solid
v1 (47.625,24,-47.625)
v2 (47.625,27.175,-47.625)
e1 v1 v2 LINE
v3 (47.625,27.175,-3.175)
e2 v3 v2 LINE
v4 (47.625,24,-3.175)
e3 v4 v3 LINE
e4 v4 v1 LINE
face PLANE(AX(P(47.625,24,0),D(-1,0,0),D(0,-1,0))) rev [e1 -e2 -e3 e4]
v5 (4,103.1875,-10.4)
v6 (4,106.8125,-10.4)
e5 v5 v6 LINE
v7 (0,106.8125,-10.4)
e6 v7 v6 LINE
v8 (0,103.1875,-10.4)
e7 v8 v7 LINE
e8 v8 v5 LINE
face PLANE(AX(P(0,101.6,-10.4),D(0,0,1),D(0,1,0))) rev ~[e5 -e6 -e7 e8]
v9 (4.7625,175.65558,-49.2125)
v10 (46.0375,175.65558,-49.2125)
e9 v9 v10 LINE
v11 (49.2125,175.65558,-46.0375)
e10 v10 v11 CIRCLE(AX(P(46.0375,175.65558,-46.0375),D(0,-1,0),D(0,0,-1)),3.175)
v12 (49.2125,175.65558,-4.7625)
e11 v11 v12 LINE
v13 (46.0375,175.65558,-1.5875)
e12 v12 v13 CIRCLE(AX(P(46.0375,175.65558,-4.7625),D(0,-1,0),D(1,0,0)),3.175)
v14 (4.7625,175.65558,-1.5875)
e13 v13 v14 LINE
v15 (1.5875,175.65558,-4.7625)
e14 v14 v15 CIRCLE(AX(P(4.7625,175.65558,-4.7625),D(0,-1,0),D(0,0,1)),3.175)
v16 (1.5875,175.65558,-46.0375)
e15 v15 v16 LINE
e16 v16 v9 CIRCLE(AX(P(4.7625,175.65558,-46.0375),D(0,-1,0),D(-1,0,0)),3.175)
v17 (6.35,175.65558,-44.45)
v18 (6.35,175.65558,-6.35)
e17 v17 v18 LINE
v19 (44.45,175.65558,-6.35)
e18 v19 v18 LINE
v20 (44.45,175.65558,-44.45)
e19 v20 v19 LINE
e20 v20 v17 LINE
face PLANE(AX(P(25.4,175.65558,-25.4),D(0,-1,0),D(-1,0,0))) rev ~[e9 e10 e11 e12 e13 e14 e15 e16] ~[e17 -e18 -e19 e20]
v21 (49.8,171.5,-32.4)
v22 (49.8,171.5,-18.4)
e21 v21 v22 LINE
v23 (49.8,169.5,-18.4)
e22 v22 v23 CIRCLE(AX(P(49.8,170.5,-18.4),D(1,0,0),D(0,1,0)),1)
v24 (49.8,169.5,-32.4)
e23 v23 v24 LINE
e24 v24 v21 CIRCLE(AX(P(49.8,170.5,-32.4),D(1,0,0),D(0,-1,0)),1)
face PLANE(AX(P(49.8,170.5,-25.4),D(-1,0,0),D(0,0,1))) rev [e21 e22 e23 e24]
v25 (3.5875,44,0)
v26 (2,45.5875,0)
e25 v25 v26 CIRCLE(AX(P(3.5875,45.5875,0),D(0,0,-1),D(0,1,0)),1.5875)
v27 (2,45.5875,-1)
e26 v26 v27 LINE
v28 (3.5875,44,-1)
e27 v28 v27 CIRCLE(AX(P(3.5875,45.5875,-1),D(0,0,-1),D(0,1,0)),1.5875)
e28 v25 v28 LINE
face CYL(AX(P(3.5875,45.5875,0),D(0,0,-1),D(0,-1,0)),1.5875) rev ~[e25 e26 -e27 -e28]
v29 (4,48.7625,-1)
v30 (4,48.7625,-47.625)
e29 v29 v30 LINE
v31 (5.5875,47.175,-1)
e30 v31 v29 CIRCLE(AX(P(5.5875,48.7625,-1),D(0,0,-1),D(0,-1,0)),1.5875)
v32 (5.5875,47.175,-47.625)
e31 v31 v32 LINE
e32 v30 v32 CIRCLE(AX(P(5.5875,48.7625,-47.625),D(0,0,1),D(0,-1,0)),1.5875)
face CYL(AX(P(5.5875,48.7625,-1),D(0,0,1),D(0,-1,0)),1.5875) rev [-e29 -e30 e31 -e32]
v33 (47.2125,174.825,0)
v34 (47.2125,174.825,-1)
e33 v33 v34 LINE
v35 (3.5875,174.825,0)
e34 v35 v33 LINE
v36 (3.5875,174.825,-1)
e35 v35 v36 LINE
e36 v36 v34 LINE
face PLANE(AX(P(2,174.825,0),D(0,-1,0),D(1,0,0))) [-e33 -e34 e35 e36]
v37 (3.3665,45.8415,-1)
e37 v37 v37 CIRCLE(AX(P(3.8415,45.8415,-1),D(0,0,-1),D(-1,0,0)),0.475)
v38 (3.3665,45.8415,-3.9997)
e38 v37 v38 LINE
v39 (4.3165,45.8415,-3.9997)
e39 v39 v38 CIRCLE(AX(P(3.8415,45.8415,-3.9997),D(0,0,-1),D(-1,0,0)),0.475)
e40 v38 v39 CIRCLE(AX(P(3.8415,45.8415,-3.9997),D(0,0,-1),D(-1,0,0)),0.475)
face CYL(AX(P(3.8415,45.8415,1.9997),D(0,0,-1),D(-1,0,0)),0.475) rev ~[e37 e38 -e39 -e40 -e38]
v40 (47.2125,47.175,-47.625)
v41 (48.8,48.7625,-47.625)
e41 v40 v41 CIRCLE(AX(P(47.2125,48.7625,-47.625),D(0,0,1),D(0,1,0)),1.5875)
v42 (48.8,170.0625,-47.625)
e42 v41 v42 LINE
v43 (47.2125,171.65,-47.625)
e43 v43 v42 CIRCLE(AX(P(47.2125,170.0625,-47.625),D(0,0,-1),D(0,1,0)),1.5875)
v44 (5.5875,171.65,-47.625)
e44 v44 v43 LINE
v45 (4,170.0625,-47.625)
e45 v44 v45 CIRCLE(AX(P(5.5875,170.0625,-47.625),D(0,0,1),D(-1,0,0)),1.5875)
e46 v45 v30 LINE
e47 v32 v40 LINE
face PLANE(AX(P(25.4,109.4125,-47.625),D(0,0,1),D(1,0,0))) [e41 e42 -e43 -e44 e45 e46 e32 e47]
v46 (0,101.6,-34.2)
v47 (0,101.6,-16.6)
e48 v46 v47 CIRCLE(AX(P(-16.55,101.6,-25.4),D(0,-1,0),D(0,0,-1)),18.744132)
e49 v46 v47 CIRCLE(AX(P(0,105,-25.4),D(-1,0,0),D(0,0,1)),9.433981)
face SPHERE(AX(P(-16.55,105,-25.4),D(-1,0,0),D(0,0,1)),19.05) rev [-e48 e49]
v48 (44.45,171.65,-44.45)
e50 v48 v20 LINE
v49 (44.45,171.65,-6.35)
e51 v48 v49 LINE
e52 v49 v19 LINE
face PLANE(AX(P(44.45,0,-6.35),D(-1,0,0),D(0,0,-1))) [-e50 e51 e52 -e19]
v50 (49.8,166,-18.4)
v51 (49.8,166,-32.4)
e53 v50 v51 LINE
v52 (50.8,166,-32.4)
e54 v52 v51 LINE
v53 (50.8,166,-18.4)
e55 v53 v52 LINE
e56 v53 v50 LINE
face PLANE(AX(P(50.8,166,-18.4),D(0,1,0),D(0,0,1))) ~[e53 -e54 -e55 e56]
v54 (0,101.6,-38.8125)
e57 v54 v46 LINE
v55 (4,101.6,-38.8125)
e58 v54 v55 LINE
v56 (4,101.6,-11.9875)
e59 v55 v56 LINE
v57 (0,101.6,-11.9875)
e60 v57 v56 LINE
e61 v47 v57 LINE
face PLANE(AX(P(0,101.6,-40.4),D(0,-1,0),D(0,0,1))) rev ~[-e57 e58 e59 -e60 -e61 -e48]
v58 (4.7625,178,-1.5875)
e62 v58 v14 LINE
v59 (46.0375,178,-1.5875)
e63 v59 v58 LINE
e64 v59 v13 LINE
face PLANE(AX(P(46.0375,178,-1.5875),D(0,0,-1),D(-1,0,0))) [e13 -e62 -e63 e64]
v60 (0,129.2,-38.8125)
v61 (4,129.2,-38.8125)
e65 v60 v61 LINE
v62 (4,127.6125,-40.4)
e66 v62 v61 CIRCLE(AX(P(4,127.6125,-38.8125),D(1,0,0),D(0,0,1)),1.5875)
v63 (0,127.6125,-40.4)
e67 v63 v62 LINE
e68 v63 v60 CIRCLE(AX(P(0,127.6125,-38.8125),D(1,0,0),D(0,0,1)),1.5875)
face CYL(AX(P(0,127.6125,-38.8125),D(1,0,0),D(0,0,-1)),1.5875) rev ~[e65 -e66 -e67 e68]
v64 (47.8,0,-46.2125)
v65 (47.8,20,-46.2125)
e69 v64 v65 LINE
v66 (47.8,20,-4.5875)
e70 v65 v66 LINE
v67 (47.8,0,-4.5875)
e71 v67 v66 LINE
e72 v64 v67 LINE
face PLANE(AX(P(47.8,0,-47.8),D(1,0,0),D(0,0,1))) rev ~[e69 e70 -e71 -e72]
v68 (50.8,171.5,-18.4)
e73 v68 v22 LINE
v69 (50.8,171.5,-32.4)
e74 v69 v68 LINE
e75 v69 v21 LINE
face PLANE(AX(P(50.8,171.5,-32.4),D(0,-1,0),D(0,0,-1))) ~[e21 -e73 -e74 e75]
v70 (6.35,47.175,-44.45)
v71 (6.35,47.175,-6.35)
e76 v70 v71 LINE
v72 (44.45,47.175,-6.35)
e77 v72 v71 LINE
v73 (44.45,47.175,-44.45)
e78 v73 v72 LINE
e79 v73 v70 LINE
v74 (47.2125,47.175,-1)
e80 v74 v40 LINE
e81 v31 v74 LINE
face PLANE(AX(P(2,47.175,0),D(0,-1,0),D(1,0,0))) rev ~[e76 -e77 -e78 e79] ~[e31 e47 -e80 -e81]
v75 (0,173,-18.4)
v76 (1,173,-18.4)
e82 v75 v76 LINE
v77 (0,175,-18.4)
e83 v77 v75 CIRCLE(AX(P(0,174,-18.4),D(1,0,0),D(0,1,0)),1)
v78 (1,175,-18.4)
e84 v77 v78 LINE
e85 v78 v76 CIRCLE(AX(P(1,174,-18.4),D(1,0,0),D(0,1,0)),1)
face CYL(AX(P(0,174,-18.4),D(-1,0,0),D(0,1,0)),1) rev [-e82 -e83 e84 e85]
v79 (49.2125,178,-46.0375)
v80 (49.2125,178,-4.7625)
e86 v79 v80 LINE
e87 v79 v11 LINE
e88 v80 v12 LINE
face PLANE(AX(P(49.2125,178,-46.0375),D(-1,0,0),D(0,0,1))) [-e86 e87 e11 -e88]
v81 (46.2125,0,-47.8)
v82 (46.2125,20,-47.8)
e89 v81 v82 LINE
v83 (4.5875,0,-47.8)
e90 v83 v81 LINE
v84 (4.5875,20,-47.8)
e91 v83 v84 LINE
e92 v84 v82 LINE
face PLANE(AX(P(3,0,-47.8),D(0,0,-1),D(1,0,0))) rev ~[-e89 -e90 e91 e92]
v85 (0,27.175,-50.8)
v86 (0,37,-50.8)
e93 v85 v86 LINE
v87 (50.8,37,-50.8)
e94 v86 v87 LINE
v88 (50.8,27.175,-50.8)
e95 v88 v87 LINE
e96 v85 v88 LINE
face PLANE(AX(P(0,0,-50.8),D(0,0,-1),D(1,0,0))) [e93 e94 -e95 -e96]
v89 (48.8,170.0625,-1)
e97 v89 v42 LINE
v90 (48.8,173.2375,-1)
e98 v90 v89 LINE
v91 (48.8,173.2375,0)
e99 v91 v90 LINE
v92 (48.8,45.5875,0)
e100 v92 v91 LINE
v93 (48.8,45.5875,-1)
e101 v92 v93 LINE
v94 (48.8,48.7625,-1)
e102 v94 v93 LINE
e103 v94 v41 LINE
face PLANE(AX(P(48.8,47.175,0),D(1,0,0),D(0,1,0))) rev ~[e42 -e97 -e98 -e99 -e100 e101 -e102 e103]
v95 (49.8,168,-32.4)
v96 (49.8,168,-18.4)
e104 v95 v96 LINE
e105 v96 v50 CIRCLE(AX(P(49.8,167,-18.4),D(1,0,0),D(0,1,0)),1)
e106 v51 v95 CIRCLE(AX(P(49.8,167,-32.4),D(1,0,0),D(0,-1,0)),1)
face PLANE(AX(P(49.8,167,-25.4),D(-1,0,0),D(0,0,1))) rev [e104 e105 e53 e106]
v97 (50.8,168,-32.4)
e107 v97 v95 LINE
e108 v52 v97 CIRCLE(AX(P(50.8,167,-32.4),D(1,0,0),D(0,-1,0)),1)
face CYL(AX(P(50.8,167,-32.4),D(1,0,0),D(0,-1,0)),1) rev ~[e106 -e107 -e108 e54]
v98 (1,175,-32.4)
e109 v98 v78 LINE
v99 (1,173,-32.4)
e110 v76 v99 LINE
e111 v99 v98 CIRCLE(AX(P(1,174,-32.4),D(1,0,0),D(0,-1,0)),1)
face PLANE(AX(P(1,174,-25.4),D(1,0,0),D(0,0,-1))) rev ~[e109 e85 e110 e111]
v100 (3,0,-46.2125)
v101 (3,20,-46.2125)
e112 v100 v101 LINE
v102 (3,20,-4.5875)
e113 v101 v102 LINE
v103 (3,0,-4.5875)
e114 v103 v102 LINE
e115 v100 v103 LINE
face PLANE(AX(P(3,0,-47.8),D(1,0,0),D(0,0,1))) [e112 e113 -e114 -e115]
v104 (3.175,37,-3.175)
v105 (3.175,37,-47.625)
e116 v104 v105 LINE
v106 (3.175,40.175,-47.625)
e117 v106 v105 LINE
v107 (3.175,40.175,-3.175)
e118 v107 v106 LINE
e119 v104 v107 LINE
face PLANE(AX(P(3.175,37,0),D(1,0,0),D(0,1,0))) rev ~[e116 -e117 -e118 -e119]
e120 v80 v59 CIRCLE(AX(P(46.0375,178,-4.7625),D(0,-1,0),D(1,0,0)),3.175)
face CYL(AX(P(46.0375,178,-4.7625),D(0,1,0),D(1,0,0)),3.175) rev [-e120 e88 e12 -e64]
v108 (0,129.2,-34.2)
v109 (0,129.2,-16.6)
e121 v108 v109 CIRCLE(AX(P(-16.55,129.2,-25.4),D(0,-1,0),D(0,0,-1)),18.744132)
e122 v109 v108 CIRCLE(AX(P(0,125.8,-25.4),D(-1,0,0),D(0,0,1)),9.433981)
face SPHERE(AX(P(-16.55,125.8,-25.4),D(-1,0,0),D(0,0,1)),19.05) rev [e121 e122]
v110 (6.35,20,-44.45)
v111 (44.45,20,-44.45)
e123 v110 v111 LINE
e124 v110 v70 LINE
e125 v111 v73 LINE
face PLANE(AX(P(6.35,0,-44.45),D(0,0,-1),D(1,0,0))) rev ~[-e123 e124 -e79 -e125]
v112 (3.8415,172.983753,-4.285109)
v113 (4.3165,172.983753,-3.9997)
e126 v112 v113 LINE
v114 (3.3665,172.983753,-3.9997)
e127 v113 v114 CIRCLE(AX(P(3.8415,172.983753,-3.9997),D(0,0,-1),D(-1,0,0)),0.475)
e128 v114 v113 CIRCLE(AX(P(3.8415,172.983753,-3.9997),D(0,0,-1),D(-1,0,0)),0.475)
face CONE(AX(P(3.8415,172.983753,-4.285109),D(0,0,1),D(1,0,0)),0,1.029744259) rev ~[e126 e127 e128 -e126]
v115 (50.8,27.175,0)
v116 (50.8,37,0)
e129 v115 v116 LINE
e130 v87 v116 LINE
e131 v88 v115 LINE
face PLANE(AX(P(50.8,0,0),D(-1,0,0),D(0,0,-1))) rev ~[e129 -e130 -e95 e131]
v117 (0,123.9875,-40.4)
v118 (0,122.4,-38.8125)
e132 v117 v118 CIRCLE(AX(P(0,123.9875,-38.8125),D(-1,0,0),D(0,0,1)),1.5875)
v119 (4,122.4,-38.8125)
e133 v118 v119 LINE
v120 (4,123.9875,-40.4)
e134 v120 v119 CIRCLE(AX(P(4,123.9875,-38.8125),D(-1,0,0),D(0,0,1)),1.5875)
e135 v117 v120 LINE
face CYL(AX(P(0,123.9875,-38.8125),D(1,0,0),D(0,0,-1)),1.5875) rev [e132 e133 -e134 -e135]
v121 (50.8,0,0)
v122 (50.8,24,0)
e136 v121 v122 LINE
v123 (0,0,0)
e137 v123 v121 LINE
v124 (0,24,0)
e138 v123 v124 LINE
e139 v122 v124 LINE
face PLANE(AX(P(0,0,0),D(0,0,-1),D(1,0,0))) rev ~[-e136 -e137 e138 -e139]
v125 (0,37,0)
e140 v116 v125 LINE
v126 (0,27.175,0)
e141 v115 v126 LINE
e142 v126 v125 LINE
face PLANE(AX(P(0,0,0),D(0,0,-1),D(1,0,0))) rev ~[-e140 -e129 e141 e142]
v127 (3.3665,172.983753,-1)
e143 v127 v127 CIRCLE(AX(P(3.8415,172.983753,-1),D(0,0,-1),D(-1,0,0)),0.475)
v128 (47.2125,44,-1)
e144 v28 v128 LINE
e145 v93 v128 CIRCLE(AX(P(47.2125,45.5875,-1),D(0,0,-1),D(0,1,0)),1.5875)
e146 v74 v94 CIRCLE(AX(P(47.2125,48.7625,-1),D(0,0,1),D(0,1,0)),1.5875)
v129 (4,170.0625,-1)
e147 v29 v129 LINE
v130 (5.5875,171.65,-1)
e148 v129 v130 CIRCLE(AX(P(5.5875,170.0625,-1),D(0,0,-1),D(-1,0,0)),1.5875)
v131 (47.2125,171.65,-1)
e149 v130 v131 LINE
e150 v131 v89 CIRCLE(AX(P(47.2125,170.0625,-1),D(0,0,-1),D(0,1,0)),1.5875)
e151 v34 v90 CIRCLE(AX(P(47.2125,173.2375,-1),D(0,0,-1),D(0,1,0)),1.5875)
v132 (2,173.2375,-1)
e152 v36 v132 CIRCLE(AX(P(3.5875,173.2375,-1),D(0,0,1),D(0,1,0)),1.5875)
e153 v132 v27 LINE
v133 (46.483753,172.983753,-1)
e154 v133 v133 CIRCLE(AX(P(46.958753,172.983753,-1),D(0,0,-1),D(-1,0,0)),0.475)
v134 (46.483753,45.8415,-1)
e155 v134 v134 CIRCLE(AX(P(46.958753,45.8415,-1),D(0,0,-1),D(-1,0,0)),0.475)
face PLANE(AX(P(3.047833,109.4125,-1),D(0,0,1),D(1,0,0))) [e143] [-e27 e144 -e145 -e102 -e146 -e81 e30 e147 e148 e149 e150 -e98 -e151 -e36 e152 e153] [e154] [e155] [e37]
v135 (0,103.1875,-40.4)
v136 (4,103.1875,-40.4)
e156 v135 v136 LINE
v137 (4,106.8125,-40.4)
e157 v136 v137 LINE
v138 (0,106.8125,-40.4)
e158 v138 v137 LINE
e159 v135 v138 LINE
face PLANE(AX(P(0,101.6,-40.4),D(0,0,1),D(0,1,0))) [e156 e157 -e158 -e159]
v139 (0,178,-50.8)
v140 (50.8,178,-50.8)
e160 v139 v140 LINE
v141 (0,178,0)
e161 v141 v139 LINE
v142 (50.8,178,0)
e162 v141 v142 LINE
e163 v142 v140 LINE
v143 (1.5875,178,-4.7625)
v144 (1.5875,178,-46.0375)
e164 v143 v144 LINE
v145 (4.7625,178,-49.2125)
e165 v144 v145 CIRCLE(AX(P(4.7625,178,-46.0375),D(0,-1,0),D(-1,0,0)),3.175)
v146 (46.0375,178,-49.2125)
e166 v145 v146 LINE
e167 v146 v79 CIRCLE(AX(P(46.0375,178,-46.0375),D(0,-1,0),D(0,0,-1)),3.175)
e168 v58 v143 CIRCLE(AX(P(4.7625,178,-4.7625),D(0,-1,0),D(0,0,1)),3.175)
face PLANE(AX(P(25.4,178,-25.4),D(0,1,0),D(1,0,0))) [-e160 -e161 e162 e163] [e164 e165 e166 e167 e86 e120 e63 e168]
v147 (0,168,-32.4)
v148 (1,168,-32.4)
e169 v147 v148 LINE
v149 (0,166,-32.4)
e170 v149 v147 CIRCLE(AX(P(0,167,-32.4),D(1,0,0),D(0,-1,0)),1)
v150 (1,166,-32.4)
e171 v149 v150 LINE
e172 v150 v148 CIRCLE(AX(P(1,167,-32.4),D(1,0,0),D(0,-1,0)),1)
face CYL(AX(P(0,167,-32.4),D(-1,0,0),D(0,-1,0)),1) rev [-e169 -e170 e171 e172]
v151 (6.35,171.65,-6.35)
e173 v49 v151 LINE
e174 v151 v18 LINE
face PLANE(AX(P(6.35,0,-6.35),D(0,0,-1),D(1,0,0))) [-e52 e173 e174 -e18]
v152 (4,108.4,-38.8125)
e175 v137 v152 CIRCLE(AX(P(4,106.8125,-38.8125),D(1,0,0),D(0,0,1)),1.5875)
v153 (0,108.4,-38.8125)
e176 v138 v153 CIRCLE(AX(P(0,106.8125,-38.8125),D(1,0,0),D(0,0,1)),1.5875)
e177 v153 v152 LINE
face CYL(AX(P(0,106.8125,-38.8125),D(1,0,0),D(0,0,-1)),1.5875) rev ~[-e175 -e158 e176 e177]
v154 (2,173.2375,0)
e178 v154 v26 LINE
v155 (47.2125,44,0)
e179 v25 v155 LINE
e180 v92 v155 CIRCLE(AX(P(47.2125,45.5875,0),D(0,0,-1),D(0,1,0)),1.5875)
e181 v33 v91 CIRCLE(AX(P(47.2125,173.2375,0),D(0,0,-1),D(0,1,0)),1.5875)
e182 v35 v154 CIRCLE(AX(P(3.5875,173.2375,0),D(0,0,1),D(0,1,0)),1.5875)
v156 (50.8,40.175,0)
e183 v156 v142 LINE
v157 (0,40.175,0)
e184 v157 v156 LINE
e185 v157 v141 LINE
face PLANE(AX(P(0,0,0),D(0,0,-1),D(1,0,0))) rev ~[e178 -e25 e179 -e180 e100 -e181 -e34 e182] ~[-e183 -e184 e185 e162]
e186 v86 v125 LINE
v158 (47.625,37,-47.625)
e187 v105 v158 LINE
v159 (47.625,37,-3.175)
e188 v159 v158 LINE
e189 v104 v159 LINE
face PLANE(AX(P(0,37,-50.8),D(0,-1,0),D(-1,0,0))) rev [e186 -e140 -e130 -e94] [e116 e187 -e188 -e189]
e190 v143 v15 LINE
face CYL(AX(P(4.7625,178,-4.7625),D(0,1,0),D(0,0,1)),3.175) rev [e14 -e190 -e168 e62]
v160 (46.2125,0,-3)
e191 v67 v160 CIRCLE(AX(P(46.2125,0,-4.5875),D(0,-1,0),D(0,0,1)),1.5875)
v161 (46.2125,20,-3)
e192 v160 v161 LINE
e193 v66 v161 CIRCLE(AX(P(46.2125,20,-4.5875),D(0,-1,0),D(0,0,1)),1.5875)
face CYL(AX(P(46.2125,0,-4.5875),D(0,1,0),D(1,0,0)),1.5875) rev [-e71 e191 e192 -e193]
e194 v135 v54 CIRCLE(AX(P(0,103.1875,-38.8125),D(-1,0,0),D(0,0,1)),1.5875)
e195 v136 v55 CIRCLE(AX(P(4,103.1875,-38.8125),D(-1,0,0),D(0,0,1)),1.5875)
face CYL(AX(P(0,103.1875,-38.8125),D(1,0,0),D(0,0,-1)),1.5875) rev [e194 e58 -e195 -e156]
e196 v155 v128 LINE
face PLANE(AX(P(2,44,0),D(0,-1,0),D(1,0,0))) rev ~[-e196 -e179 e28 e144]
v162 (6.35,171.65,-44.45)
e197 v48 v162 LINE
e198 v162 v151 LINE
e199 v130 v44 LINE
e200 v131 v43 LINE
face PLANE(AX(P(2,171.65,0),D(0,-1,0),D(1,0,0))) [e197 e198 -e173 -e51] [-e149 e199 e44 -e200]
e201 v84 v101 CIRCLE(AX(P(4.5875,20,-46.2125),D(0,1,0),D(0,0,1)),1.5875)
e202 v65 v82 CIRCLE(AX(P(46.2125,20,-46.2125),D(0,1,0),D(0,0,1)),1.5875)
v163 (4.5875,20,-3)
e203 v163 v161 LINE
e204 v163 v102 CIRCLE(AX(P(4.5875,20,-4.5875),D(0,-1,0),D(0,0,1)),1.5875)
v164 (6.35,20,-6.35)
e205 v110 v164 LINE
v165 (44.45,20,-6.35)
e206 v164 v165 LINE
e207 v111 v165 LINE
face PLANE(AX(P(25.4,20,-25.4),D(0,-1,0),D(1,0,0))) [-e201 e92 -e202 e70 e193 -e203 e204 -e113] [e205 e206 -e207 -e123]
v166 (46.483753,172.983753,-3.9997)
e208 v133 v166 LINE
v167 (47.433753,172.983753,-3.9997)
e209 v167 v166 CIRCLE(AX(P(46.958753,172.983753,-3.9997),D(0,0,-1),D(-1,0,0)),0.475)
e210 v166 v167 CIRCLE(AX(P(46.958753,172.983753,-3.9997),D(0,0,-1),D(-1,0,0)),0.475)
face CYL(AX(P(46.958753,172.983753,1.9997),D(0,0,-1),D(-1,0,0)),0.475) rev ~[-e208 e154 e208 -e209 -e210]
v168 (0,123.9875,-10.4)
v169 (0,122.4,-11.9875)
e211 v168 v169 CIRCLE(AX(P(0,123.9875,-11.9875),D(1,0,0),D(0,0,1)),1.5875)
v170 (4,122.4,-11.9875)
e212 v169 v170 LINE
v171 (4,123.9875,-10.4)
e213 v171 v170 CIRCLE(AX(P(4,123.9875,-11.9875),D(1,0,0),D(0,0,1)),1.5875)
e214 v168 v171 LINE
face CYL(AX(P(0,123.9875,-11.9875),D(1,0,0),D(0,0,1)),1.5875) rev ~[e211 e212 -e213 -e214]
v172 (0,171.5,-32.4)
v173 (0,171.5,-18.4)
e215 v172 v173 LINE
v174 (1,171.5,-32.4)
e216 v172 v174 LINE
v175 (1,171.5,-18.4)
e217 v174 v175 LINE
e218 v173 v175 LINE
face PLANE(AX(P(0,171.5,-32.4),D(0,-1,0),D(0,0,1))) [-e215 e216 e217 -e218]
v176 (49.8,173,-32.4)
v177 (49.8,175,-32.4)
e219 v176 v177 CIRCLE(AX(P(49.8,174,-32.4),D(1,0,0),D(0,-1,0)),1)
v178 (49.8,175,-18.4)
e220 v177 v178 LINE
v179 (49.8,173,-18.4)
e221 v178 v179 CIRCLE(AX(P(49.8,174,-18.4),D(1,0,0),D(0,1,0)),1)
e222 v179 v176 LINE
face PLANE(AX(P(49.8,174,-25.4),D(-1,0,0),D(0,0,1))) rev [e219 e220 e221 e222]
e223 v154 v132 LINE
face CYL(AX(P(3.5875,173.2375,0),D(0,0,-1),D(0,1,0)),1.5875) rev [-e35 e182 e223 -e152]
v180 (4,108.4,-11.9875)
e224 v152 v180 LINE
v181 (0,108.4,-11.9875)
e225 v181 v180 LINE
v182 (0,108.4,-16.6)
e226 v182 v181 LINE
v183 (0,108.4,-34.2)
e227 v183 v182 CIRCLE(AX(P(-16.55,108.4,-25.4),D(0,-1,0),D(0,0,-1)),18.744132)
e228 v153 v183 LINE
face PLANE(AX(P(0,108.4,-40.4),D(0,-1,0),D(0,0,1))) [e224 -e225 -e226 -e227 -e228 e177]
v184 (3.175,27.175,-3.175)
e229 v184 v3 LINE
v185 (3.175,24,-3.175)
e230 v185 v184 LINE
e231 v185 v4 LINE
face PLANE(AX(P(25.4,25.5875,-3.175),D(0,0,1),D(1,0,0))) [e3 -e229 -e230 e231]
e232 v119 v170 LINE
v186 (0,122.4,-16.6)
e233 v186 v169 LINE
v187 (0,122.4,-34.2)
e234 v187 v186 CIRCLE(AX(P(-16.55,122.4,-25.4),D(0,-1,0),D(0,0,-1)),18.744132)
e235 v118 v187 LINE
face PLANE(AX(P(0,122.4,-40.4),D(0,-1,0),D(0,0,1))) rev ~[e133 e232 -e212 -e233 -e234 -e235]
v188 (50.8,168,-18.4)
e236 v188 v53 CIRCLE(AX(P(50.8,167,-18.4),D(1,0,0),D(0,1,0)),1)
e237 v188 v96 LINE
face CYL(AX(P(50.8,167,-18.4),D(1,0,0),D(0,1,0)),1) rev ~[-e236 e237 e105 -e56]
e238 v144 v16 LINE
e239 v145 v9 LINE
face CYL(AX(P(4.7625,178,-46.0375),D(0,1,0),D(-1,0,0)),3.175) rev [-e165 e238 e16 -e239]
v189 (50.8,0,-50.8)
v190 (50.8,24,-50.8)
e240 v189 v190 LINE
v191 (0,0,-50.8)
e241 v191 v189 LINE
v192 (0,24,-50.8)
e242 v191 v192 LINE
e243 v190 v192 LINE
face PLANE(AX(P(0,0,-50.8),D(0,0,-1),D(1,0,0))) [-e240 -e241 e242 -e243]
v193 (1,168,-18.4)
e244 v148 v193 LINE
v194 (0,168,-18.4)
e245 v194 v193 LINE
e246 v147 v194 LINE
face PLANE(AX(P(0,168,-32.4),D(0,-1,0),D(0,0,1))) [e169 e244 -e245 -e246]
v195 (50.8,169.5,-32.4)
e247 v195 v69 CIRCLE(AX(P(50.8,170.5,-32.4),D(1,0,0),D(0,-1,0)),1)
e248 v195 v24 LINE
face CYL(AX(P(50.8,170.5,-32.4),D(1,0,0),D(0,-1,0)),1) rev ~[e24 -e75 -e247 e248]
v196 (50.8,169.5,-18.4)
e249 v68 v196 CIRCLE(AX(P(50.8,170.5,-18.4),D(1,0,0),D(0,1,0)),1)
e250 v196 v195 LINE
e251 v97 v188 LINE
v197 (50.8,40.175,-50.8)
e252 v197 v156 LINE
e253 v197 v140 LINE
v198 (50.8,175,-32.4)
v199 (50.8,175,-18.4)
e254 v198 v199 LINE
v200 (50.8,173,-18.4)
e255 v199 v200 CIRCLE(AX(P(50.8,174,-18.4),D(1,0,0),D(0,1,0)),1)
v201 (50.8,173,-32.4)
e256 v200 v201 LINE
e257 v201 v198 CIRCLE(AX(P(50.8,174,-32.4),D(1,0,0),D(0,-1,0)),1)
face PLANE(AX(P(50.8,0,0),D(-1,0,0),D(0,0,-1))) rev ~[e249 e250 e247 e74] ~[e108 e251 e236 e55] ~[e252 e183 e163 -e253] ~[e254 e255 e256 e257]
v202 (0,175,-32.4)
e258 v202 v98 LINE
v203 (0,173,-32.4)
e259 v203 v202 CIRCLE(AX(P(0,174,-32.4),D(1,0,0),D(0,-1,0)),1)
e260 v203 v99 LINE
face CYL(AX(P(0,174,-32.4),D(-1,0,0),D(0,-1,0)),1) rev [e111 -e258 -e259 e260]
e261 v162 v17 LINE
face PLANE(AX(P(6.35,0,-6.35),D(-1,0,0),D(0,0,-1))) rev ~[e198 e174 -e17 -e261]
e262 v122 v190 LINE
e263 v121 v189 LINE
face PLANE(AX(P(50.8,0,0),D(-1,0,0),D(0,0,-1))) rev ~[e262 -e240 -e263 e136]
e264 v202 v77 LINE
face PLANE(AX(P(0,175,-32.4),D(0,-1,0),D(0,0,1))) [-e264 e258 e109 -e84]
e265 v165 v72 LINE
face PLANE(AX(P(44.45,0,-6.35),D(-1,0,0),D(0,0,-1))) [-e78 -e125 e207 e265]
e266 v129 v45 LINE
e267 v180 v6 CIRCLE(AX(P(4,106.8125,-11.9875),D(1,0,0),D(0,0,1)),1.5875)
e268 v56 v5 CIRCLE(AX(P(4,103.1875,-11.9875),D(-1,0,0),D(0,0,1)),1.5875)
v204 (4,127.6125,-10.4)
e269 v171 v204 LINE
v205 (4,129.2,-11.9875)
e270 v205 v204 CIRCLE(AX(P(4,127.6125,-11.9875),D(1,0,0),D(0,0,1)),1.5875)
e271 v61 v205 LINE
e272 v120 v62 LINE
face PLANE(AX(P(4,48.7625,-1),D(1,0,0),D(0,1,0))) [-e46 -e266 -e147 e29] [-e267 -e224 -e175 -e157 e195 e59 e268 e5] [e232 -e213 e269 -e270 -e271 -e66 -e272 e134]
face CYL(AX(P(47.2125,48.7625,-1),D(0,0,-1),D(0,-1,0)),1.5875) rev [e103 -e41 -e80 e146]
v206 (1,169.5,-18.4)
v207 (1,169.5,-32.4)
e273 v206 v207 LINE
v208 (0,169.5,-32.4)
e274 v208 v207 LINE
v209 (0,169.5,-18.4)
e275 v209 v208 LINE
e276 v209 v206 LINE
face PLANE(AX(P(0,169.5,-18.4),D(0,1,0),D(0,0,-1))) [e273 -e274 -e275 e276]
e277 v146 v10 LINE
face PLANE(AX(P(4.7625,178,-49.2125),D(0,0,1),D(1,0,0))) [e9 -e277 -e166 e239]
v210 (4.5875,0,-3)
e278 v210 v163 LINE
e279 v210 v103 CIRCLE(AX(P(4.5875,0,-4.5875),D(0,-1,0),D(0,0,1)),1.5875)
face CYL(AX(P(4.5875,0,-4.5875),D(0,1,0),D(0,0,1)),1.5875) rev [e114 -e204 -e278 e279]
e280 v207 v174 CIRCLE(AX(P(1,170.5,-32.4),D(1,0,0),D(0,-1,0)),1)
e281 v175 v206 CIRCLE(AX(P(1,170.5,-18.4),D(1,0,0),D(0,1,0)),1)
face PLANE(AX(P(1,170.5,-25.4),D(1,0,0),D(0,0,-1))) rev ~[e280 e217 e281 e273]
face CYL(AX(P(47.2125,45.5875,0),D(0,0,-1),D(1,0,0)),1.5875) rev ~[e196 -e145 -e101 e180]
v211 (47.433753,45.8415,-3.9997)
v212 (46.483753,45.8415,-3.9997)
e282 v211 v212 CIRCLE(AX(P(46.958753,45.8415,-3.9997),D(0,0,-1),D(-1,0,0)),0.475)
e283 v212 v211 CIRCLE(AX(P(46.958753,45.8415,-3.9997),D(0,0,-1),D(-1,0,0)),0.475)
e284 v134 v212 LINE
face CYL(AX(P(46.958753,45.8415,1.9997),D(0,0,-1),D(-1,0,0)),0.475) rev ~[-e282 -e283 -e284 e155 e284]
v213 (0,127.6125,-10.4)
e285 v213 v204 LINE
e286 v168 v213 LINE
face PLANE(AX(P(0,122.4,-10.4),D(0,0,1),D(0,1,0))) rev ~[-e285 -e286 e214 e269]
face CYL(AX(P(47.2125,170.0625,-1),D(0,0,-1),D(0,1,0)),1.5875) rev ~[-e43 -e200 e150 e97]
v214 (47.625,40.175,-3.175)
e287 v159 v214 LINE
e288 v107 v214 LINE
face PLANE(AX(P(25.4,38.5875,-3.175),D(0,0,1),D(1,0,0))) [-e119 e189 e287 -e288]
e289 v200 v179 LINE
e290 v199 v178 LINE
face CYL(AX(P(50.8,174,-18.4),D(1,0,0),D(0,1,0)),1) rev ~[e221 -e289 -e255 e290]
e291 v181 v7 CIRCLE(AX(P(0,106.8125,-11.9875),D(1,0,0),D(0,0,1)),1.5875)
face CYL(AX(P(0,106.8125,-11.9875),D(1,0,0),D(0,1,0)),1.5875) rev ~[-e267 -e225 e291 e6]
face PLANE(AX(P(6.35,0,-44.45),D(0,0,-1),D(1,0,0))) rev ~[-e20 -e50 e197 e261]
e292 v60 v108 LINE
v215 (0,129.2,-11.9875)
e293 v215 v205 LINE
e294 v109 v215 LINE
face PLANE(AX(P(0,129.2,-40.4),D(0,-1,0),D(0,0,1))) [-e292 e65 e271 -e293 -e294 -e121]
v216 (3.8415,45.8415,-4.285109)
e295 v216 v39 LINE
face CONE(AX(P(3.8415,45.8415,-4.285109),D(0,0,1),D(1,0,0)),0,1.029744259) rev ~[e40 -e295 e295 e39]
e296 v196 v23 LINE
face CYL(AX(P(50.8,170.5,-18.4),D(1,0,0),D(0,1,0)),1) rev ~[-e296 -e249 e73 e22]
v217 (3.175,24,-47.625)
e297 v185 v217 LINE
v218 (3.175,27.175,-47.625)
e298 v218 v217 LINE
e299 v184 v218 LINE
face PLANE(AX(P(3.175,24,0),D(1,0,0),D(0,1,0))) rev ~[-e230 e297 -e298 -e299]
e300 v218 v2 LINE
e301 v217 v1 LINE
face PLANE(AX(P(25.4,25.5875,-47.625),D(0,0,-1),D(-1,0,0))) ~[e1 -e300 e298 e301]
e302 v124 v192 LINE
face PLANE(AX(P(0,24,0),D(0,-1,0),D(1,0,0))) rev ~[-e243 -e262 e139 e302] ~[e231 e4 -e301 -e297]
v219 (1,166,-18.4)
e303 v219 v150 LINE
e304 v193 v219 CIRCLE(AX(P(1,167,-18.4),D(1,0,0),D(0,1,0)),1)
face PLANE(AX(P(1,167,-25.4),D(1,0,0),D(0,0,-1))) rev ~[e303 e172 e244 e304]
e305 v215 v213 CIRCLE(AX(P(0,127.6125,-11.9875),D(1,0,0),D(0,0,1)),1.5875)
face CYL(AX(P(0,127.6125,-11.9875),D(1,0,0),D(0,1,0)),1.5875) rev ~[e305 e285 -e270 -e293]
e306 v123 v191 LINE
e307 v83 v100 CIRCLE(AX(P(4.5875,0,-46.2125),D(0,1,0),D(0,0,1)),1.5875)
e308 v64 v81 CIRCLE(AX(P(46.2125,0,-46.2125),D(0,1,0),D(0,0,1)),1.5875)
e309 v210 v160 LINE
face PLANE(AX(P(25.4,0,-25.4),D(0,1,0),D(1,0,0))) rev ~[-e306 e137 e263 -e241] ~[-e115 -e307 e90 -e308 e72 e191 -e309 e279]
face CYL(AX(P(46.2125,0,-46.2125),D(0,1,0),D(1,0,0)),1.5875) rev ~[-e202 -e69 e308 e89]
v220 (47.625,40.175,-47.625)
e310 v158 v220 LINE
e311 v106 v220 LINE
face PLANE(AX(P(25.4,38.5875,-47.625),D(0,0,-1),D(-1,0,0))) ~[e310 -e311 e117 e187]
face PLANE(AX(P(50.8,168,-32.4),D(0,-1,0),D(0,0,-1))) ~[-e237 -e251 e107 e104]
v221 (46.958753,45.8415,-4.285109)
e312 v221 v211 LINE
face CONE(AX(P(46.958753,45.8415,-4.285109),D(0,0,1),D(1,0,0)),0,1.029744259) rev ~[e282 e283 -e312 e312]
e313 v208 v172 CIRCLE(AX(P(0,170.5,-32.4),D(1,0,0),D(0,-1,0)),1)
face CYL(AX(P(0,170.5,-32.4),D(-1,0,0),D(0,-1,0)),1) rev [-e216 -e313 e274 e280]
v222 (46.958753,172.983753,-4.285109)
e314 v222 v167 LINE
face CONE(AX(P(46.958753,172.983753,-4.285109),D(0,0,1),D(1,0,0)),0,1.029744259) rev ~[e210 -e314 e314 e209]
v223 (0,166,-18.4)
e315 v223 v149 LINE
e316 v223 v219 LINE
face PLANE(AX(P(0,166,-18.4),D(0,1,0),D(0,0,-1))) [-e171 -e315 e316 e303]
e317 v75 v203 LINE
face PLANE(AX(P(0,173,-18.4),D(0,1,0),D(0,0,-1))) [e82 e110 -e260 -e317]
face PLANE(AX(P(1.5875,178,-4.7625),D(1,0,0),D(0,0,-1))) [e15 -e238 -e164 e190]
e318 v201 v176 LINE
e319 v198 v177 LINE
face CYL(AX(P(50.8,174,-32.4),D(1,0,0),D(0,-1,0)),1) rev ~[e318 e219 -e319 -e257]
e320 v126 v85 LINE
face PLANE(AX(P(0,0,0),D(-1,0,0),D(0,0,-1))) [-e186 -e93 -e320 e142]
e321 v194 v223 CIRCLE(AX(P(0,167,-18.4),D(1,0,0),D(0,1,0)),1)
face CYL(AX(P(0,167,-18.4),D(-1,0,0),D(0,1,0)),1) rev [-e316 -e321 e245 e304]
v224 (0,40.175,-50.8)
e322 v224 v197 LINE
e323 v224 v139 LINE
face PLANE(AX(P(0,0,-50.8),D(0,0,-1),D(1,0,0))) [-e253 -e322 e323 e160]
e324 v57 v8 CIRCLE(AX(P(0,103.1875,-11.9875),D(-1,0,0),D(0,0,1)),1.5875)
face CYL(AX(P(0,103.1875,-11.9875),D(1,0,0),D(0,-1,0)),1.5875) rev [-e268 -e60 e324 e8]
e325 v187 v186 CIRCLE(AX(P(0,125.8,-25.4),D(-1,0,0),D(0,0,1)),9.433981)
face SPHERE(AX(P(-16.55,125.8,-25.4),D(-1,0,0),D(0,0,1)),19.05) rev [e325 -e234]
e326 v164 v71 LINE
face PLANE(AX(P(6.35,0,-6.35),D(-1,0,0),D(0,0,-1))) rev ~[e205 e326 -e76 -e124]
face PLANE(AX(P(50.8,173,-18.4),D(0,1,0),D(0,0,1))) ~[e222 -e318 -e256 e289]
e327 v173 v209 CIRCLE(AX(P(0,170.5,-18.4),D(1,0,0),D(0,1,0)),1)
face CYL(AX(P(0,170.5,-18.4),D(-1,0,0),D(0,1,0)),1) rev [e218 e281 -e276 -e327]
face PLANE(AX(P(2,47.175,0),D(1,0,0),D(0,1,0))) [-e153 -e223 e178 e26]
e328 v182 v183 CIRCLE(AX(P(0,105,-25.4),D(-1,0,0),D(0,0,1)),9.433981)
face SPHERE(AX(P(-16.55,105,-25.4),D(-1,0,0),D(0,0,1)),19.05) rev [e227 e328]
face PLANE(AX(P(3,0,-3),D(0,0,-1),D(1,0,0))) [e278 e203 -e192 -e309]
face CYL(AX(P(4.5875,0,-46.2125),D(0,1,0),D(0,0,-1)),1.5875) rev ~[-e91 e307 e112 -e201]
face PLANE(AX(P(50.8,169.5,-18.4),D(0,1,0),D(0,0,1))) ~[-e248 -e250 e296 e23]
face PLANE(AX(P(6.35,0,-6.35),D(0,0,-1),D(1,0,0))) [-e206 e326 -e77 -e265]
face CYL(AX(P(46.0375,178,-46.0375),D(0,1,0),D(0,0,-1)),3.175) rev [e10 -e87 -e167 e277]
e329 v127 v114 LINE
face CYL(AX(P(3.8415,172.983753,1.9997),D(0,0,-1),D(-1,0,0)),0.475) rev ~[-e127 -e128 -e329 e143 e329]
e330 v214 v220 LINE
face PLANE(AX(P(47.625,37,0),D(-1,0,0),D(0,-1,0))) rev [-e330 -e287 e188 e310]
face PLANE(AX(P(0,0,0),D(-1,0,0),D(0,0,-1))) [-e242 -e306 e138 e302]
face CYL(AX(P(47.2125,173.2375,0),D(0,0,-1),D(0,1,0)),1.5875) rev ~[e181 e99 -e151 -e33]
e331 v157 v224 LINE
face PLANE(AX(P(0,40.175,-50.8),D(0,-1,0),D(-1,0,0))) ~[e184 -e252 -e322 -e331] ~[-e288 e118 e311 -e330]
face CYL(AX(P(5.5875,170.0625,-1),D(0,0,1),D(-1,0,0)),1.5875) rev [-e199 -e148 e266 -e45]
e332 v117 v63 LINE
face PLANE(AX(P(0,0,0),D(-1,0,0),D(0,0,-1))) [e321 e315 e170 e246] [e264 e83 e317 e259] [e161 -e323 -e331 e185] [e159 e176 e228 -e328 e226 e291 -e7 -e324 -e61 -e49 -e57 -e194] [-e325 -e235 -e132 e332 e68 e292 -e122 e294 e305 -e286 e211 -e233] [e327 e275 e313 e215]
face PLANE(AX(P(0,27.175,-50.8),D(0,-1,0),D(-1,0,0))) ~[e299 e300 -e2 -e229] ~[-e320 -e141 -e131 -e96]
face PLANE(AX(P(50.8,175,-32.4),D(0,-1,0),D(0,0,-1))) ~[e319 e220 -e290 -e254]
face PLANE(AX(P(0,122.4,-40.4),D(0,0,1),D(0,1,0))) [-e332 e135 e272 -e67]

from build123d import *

# Parameters (mm, degrees)
SKETCH1_W                    = 50.8
SKETCH1_H                    = 50.8
SKETCH1_W_2                  = 38.1
SKETCH1_H_2                  = 38.1
BOSS_EXTRUDE1_DEPTH          = 178
SKETCH2_W                    = 44.8
SKETCH2_H                    = 44.8
SKETCH2_W_2                  = 38.1
SKETCH2_H_2                  = 38.1
CUT_EXTRUDE1_DEPTH           = 20
SKETCH3_W                    = 46.8
SKETCH3_H                    = 124.475000116
CUT_EXTRUDE2_DEPTH           = 47.625
SKETCH4_W                    = 50.8
SKETCH4_H                    = 3.175
CUT_EXTRUDE3_DEPTH           = 3.175
SKETCH5_W                    = 3.175
SKETCH5_H                    = 3.175
CUT_EXTRUDE4_DEPTH           = 192.951243809
CUT_EXTRUDE5_DEPTH           = 1
SKETCH7_W                    = 46.8
SKETCH7_H                    = 3.175
CUT_EXTRUDE6_DEPTH           = 1
FILLET1_R                    = 1.5875
CUT_EXTRUDE7_DEPTH           = 2.34442
M1_2X0_25_TAPPED_HOLE1_D     = 0.95
M1_2X0_25_TAPPED_HOLE1_DEPTH = 2.9997
M1_2X0_25_TAPPED_HOLE1_TIP   = 0.285408794
BOSS_EXTRUDE2_REACH          = 193.689
CUT_EXTRUDE8_REACH           = 193.951
SKETCH15_W                   = 30
SKETCH15_H                   = 6.8
FILLET2_R                    = 1.5875
LPATTERN1_COUNT              = 2
LPATTERN1_PITCH              = 20.8


with BuildPart() as part:
    # Sketch1 → Boss-Extrude1 (new body)
    with BuildSketch(Plane(origin=(0, 0, 0), x_dir=(1, 0, 0), z_dir=(0, 1, 0))):
        with Locations((25.4, 25.4)):
            Rectangle(SKETCH1_W, SKETCH1_H)
        with Locations((25.4, 25.4)):
            Rectangle(SKETCH1_W_2, SKETCH1_H_2, mode=Mode.SUBTRACT)
    extrude(amount=BOSS_EXTRUDE1_DEPTH)

    # Sketch2 → Cut-Extrude1 (cut)
    with BuildSketch(Plane.XZ):
        with Locations((25.4, -25.4)):
            Rectangle(SKETCH2_W, SKETCH2_H)
        with Locations((25.4, -25.4)):
            Rectangle(SKETCH2_W_2, SKETCH2_H_2, mode=Mode.SUBTRACT)
    extrude(amount=-CUT_EXTRUDE1_DEPTH, mode=Mode.SUBTRACT)

    # Sketch3 → Cut-Extrude2 (cut)
    with BuildSketch(Plane.XY):
        with Locations((25.4, 109.412499942)):
            Rectangle(SKETCH3_W, SKETCH3_H)
    extrude(amount=-CUT_EXTRUDE2_DEPTH, mode=Mode.SUBTRACT)

    # Sketch4 → Cut-Extrude3 (cut)
    with BuildSketch(Plane.XY):
        with Locations((25.4, 25.5875)):
            Rectangle(SKETCH4_W, SKETCH4_H)
        with Locations((25.4, 38.5875)):
            Rectangle(SKETCH4_W, SKETCH4_H)
    cut_extrude3 = extrude(amount=-CUT_EXTRUDE3_DEPTH, mode=Mode.SUBTRACT)

    # Sketch5 → Cut-Extrude4 (cut, through all)
    with BuildSketch(Plane.XY):
        with Locations((1.5875, 38.5875)):
            Rectangle(SKETCH5_W, SKETCH5_H)
        with Locations((1.5875, 25.5875)):
            Rectangle(SKETCH5_W, SKETCH5_H)
    cut_extrude4 = extrude(amount=-CUT_EXTRUDE4_DEPTH, mode=Mode.SUBTRACT)

    # Sketch6 → Cut-Extrude5 (cut)
    with BuildSketch(Plane.ZY):
        with BuildLine():
            Line((-32.4, 175), (-18.4, 175))
            ThreePointArc((-18.4, 175), (-17.4, 174), (-18.4, 173))
            Line((-18.4, 173), (-32.4, 173))
            ThreePointArc((-32.4, 173), (-33.4, 174), (-32.4, 175))
        make_face()
        with BuildLine():
            Line((-32.4, 171.5), (-18.4, 171.5))
            ThreePointArc((-18.4, 171.5), (-17.4, 170.5), (-18.4, 169.5))
            Line((-18.4, 169.5), (-32.4, 169.5))
            ThreePointArc((-32.4, 169.5), (-33.4, 170.5), (-32.4, 171.5))
        make_face()
        with BuildLine():
            Line((-32.4, 168), (-18.4, 168))
            ThreePointArc((-18.4, 168), (-17.4, 167), (-18.4, 166))
            Line((-18.4, 166), (-32.4, 166))
            ThreePointArc((-32.4, 166), (-33.4, 167), (-32.4, 168))
        make_face()
    cut_extrude5 = extrude(amount=-CUT_EXTRUDE5_DEPTH, mode=Mode.SUBTRACT)

    # Mirror1: Cut-Extrude3 across plane
    add(cut_extrude3.mirror(Plane.XY.offset(-25.4)), mode=Mode.SUBTRACT)

    # Mirror2: Cut-Extrude4, Cut-Extrude5 across plane
    add(cut_extrude4.mirror(Plane.ZY.offset(-25.4)), mode=Mode.SUBTRACT)
    add(cut_extrude5.mirror(Plane.ZY.offset(-25.4)), mode=Mode.SUBTRACT)

    # Sketch7 → Cut-Extrude6 (cut)
    with BuildSketch(Plane.XY):
        with Locations((25.4, 173.2375)):
            Rectangle(SKETCH7_W, SKETCH7_H)
        with Locations((25.4, 45.587499884)):
            Rectangle(SKETCH7_W, SKETCH7_H)
    extrude(amount=-CUT_EXTRUDE6_DEPTH, mode=Mode.SUBTRACT)

    # Fillet1
    fillet1_edges = [part.edges().sort_by_distance(p)[0] for p in [
        (47.8, 10, -3),
        (47.8, 10, -47.8),
        (2, 174.825, -0.5),
        (48.8, 174.825, -0.5),
        (3, 10, -47.8),
        (2, 43.999999884, -0.5),
        (3, 10, -3),
        (48.8, 43.999999884, -0.5),
        (2, 47.174999884, -24.3125),
        (2, 171.65, -24.3125),
        (48.8, 171.65, -24.3125),
        (48.8, 47.174999884, -24.3125),
    ]]
    fillet(fillet1_edges, radius=FILLET1_R)

    # Sketch8 → Cut-Extrude7 (cut)
    with BuildSketch(Plane(origin=(0, 178, 0), x_dir=(1, 0, 0), z_dir=(0, 1, 0))):
        with BuildLine():
            Line((4.7625, 49.2125), (46.0375, 49.2125))
            ThreePointArc((46.0375, 49.2125), (48.28256403, 48.28256403), (49.2125, 46.0375))
            Line((49.2125, 46.0375), (49.2125, 4.7625))
            ThreePointArc((49.2125, 4.7625), (48.28256403, 2.51743597), (46.0375, 1.5875))
            Line((46.0375, 1.5875), (4.7625, 1.5875))
            ThreePointArc((4.7625, 1.5875), (2.51743597, 2.51743597), (1.5875, 4.7625))
            Line((1.5875, 4.7625), (1.5875, 46.0375))
            ThreePointArc((1.5875, 46.0375), (2.51743597, 48.28256403), (4.7625, 49.2125))
        make_face()
    extrude(amount=-CUT_EXTRUDE7_DEPTH, mode=Mode.SUBTRACT)

    # M1.2x0.25 Tapped Hole1
    with Locations(Plane.XY.offset(-1)):
        with Locations((3.8415, 172.98375321), (46.95875321, 172.98375321), (3.8415, 45.841499884), (46.95875321, 45.841499884)):
            Hole(M1_2X0_25_TAPPED_HOLE1_D / 2, depth=M1_2X0_25_TAPPED_HOLE1_DEPTH)
            with Locations((0, 0, -(M1_2X0_25_TAPPED_HOLE1_DEPTH + M1_2X0_25_TAPPED_HOLE1_TIP / 2))):  # 118° drill point
                Cone(0, M1_2X0_25_TAPPED_HOLE1_D / 2, M1_2X0_25_TAPPED_HOLE1_TIP, mode=Mode.SUBTRACT)

    # Sketch17 → Boss-Extrude2 (add, up to next)
    with BuildSketch(Plane.XY.offset(-1), mode=Mode.PRIVATE) as boss_extrude2_sk1:
        with BuildLine():
            Line((2, 170.0625), (2, 48.762499884))
            ThreePointArc((2, 48.762499884), (2.464967985, 47.639967869), (3.5875, 47.174999884))
            Line((3.5875, 47.174999884), (5.5875, 47.174999884))
            ThreePointArc((5.5875, 47.174999884), (4.464967985, 47.639967869), (4, 48.762499884))
            Line((4, 48.762499884), (4, 170.0625))
            ThreePointArc((4, 170.0625), (4.464967985, 171.185032015), (5.5875, 171.65))
            Line((5.5875, 171.65), (3.5875, 171.65))
            ThreePointArc((3.5875, 171.65), (2.464967985, 171.185032015), (2, 170.0625))
        make_face()
    boss_extrude2_tool1 = extrude(boss_extrude2_sk1.sketch, amount=-BOSS_EXTRUDE2_REACH, mode=Mode.PRIVATE) - part.part
    add(boss_extrude2_tool1.solids().sort_by_distance((3.00869, 109.4125, -1))[0])

    # Sketch15 → Cut-Extrude8 (cut, up to next)
    with BuildSketch(Plane.ZY, mode=Mode.PRIVATE) as cut_extrude8_sk1:
        with Locations((-25.4, 105)):
            Rectangle(SKETCH15_W, SKETCH15_H)
    cut_extrude8_tool1 = extrude(cut_extrude8_sk1.sketch, amount=-CUT_EXTRUDE8_REACH, mode=Mode.PRIVATE) & part.part
    # Sketch15 → Cut-Extrude8 (cut, up to next)
    with BuildSketch(Plane.ZY, mode=Mode.PRIVATE) as cut_extrude8_sk2:
        with Locations((-25.4, 125.8)):
            Rectangle(SKETCH15_W, SKETCH15_H)
    cut_extrude8_tool2 = extrude(cut_extrude8_sk2.sketch, amount=-CUT_EXTRUDE8_REACH, mode=Mode.PRIVATE) & part.part
    add(cut_extrude8_tool1.solids().sort_by_distance((0, 105, -25.4))[0], mode=Mode.SUBTRACT)
    add(cut_extrude8_tool2.solids().sort_by_distance((0, 125.8, -25.4))[0], mode=Mode.SUBTRACT)

    # Fillet2
    fillet2_edges = [part.edges().sort_by_distance(p)[0] for p in [
        (2, 101.6, -10.4),
        (2, 108.4, -10.4),
        (2, 108.4, -40.4),
        (2, 101.6, -40.4),
        (2, 122.4, -10.4),
        (2, 129.2, -10.4),
        (2, 129.2, -40.4),
        (2, 122.4, -40.4),
    ]]
    fillet(fillet2_edges, radius=FILLET2_R)

    # Sketch20 → Cut-Revolve1 (revolve, cut)
    with BuildSketch(Plane(origin=(0, 125.8, 0), x_dir=(1, 0, 0), z_dir=(0, 1, 0))):
        with BuildLine():
            Line((-16.55, 25.4), (2.5, 25.4))
            ThreePointArc((2.5, 25.4), (-16.55, 6.35), (-35.6, 25.4))
            Line((-35.6, 25.4), (-16.55, 25.4))
        make_face()
    cut_revolve1 = revolve(axis=Axis((-16.55, 125.8, -25.4), (1, 0, 0)), mode=Mode.SUBTRACT)

    # LPattern1: Cut-Revolve1 ×2
    with Locations(*[(0, -i * LPATTERN1_PITCH, 0) for i in range(1, LPATTERN1_COUNT)]):
        add(cut_revolve1, mode=Mode.SUBTRACT)


solid = part.part
